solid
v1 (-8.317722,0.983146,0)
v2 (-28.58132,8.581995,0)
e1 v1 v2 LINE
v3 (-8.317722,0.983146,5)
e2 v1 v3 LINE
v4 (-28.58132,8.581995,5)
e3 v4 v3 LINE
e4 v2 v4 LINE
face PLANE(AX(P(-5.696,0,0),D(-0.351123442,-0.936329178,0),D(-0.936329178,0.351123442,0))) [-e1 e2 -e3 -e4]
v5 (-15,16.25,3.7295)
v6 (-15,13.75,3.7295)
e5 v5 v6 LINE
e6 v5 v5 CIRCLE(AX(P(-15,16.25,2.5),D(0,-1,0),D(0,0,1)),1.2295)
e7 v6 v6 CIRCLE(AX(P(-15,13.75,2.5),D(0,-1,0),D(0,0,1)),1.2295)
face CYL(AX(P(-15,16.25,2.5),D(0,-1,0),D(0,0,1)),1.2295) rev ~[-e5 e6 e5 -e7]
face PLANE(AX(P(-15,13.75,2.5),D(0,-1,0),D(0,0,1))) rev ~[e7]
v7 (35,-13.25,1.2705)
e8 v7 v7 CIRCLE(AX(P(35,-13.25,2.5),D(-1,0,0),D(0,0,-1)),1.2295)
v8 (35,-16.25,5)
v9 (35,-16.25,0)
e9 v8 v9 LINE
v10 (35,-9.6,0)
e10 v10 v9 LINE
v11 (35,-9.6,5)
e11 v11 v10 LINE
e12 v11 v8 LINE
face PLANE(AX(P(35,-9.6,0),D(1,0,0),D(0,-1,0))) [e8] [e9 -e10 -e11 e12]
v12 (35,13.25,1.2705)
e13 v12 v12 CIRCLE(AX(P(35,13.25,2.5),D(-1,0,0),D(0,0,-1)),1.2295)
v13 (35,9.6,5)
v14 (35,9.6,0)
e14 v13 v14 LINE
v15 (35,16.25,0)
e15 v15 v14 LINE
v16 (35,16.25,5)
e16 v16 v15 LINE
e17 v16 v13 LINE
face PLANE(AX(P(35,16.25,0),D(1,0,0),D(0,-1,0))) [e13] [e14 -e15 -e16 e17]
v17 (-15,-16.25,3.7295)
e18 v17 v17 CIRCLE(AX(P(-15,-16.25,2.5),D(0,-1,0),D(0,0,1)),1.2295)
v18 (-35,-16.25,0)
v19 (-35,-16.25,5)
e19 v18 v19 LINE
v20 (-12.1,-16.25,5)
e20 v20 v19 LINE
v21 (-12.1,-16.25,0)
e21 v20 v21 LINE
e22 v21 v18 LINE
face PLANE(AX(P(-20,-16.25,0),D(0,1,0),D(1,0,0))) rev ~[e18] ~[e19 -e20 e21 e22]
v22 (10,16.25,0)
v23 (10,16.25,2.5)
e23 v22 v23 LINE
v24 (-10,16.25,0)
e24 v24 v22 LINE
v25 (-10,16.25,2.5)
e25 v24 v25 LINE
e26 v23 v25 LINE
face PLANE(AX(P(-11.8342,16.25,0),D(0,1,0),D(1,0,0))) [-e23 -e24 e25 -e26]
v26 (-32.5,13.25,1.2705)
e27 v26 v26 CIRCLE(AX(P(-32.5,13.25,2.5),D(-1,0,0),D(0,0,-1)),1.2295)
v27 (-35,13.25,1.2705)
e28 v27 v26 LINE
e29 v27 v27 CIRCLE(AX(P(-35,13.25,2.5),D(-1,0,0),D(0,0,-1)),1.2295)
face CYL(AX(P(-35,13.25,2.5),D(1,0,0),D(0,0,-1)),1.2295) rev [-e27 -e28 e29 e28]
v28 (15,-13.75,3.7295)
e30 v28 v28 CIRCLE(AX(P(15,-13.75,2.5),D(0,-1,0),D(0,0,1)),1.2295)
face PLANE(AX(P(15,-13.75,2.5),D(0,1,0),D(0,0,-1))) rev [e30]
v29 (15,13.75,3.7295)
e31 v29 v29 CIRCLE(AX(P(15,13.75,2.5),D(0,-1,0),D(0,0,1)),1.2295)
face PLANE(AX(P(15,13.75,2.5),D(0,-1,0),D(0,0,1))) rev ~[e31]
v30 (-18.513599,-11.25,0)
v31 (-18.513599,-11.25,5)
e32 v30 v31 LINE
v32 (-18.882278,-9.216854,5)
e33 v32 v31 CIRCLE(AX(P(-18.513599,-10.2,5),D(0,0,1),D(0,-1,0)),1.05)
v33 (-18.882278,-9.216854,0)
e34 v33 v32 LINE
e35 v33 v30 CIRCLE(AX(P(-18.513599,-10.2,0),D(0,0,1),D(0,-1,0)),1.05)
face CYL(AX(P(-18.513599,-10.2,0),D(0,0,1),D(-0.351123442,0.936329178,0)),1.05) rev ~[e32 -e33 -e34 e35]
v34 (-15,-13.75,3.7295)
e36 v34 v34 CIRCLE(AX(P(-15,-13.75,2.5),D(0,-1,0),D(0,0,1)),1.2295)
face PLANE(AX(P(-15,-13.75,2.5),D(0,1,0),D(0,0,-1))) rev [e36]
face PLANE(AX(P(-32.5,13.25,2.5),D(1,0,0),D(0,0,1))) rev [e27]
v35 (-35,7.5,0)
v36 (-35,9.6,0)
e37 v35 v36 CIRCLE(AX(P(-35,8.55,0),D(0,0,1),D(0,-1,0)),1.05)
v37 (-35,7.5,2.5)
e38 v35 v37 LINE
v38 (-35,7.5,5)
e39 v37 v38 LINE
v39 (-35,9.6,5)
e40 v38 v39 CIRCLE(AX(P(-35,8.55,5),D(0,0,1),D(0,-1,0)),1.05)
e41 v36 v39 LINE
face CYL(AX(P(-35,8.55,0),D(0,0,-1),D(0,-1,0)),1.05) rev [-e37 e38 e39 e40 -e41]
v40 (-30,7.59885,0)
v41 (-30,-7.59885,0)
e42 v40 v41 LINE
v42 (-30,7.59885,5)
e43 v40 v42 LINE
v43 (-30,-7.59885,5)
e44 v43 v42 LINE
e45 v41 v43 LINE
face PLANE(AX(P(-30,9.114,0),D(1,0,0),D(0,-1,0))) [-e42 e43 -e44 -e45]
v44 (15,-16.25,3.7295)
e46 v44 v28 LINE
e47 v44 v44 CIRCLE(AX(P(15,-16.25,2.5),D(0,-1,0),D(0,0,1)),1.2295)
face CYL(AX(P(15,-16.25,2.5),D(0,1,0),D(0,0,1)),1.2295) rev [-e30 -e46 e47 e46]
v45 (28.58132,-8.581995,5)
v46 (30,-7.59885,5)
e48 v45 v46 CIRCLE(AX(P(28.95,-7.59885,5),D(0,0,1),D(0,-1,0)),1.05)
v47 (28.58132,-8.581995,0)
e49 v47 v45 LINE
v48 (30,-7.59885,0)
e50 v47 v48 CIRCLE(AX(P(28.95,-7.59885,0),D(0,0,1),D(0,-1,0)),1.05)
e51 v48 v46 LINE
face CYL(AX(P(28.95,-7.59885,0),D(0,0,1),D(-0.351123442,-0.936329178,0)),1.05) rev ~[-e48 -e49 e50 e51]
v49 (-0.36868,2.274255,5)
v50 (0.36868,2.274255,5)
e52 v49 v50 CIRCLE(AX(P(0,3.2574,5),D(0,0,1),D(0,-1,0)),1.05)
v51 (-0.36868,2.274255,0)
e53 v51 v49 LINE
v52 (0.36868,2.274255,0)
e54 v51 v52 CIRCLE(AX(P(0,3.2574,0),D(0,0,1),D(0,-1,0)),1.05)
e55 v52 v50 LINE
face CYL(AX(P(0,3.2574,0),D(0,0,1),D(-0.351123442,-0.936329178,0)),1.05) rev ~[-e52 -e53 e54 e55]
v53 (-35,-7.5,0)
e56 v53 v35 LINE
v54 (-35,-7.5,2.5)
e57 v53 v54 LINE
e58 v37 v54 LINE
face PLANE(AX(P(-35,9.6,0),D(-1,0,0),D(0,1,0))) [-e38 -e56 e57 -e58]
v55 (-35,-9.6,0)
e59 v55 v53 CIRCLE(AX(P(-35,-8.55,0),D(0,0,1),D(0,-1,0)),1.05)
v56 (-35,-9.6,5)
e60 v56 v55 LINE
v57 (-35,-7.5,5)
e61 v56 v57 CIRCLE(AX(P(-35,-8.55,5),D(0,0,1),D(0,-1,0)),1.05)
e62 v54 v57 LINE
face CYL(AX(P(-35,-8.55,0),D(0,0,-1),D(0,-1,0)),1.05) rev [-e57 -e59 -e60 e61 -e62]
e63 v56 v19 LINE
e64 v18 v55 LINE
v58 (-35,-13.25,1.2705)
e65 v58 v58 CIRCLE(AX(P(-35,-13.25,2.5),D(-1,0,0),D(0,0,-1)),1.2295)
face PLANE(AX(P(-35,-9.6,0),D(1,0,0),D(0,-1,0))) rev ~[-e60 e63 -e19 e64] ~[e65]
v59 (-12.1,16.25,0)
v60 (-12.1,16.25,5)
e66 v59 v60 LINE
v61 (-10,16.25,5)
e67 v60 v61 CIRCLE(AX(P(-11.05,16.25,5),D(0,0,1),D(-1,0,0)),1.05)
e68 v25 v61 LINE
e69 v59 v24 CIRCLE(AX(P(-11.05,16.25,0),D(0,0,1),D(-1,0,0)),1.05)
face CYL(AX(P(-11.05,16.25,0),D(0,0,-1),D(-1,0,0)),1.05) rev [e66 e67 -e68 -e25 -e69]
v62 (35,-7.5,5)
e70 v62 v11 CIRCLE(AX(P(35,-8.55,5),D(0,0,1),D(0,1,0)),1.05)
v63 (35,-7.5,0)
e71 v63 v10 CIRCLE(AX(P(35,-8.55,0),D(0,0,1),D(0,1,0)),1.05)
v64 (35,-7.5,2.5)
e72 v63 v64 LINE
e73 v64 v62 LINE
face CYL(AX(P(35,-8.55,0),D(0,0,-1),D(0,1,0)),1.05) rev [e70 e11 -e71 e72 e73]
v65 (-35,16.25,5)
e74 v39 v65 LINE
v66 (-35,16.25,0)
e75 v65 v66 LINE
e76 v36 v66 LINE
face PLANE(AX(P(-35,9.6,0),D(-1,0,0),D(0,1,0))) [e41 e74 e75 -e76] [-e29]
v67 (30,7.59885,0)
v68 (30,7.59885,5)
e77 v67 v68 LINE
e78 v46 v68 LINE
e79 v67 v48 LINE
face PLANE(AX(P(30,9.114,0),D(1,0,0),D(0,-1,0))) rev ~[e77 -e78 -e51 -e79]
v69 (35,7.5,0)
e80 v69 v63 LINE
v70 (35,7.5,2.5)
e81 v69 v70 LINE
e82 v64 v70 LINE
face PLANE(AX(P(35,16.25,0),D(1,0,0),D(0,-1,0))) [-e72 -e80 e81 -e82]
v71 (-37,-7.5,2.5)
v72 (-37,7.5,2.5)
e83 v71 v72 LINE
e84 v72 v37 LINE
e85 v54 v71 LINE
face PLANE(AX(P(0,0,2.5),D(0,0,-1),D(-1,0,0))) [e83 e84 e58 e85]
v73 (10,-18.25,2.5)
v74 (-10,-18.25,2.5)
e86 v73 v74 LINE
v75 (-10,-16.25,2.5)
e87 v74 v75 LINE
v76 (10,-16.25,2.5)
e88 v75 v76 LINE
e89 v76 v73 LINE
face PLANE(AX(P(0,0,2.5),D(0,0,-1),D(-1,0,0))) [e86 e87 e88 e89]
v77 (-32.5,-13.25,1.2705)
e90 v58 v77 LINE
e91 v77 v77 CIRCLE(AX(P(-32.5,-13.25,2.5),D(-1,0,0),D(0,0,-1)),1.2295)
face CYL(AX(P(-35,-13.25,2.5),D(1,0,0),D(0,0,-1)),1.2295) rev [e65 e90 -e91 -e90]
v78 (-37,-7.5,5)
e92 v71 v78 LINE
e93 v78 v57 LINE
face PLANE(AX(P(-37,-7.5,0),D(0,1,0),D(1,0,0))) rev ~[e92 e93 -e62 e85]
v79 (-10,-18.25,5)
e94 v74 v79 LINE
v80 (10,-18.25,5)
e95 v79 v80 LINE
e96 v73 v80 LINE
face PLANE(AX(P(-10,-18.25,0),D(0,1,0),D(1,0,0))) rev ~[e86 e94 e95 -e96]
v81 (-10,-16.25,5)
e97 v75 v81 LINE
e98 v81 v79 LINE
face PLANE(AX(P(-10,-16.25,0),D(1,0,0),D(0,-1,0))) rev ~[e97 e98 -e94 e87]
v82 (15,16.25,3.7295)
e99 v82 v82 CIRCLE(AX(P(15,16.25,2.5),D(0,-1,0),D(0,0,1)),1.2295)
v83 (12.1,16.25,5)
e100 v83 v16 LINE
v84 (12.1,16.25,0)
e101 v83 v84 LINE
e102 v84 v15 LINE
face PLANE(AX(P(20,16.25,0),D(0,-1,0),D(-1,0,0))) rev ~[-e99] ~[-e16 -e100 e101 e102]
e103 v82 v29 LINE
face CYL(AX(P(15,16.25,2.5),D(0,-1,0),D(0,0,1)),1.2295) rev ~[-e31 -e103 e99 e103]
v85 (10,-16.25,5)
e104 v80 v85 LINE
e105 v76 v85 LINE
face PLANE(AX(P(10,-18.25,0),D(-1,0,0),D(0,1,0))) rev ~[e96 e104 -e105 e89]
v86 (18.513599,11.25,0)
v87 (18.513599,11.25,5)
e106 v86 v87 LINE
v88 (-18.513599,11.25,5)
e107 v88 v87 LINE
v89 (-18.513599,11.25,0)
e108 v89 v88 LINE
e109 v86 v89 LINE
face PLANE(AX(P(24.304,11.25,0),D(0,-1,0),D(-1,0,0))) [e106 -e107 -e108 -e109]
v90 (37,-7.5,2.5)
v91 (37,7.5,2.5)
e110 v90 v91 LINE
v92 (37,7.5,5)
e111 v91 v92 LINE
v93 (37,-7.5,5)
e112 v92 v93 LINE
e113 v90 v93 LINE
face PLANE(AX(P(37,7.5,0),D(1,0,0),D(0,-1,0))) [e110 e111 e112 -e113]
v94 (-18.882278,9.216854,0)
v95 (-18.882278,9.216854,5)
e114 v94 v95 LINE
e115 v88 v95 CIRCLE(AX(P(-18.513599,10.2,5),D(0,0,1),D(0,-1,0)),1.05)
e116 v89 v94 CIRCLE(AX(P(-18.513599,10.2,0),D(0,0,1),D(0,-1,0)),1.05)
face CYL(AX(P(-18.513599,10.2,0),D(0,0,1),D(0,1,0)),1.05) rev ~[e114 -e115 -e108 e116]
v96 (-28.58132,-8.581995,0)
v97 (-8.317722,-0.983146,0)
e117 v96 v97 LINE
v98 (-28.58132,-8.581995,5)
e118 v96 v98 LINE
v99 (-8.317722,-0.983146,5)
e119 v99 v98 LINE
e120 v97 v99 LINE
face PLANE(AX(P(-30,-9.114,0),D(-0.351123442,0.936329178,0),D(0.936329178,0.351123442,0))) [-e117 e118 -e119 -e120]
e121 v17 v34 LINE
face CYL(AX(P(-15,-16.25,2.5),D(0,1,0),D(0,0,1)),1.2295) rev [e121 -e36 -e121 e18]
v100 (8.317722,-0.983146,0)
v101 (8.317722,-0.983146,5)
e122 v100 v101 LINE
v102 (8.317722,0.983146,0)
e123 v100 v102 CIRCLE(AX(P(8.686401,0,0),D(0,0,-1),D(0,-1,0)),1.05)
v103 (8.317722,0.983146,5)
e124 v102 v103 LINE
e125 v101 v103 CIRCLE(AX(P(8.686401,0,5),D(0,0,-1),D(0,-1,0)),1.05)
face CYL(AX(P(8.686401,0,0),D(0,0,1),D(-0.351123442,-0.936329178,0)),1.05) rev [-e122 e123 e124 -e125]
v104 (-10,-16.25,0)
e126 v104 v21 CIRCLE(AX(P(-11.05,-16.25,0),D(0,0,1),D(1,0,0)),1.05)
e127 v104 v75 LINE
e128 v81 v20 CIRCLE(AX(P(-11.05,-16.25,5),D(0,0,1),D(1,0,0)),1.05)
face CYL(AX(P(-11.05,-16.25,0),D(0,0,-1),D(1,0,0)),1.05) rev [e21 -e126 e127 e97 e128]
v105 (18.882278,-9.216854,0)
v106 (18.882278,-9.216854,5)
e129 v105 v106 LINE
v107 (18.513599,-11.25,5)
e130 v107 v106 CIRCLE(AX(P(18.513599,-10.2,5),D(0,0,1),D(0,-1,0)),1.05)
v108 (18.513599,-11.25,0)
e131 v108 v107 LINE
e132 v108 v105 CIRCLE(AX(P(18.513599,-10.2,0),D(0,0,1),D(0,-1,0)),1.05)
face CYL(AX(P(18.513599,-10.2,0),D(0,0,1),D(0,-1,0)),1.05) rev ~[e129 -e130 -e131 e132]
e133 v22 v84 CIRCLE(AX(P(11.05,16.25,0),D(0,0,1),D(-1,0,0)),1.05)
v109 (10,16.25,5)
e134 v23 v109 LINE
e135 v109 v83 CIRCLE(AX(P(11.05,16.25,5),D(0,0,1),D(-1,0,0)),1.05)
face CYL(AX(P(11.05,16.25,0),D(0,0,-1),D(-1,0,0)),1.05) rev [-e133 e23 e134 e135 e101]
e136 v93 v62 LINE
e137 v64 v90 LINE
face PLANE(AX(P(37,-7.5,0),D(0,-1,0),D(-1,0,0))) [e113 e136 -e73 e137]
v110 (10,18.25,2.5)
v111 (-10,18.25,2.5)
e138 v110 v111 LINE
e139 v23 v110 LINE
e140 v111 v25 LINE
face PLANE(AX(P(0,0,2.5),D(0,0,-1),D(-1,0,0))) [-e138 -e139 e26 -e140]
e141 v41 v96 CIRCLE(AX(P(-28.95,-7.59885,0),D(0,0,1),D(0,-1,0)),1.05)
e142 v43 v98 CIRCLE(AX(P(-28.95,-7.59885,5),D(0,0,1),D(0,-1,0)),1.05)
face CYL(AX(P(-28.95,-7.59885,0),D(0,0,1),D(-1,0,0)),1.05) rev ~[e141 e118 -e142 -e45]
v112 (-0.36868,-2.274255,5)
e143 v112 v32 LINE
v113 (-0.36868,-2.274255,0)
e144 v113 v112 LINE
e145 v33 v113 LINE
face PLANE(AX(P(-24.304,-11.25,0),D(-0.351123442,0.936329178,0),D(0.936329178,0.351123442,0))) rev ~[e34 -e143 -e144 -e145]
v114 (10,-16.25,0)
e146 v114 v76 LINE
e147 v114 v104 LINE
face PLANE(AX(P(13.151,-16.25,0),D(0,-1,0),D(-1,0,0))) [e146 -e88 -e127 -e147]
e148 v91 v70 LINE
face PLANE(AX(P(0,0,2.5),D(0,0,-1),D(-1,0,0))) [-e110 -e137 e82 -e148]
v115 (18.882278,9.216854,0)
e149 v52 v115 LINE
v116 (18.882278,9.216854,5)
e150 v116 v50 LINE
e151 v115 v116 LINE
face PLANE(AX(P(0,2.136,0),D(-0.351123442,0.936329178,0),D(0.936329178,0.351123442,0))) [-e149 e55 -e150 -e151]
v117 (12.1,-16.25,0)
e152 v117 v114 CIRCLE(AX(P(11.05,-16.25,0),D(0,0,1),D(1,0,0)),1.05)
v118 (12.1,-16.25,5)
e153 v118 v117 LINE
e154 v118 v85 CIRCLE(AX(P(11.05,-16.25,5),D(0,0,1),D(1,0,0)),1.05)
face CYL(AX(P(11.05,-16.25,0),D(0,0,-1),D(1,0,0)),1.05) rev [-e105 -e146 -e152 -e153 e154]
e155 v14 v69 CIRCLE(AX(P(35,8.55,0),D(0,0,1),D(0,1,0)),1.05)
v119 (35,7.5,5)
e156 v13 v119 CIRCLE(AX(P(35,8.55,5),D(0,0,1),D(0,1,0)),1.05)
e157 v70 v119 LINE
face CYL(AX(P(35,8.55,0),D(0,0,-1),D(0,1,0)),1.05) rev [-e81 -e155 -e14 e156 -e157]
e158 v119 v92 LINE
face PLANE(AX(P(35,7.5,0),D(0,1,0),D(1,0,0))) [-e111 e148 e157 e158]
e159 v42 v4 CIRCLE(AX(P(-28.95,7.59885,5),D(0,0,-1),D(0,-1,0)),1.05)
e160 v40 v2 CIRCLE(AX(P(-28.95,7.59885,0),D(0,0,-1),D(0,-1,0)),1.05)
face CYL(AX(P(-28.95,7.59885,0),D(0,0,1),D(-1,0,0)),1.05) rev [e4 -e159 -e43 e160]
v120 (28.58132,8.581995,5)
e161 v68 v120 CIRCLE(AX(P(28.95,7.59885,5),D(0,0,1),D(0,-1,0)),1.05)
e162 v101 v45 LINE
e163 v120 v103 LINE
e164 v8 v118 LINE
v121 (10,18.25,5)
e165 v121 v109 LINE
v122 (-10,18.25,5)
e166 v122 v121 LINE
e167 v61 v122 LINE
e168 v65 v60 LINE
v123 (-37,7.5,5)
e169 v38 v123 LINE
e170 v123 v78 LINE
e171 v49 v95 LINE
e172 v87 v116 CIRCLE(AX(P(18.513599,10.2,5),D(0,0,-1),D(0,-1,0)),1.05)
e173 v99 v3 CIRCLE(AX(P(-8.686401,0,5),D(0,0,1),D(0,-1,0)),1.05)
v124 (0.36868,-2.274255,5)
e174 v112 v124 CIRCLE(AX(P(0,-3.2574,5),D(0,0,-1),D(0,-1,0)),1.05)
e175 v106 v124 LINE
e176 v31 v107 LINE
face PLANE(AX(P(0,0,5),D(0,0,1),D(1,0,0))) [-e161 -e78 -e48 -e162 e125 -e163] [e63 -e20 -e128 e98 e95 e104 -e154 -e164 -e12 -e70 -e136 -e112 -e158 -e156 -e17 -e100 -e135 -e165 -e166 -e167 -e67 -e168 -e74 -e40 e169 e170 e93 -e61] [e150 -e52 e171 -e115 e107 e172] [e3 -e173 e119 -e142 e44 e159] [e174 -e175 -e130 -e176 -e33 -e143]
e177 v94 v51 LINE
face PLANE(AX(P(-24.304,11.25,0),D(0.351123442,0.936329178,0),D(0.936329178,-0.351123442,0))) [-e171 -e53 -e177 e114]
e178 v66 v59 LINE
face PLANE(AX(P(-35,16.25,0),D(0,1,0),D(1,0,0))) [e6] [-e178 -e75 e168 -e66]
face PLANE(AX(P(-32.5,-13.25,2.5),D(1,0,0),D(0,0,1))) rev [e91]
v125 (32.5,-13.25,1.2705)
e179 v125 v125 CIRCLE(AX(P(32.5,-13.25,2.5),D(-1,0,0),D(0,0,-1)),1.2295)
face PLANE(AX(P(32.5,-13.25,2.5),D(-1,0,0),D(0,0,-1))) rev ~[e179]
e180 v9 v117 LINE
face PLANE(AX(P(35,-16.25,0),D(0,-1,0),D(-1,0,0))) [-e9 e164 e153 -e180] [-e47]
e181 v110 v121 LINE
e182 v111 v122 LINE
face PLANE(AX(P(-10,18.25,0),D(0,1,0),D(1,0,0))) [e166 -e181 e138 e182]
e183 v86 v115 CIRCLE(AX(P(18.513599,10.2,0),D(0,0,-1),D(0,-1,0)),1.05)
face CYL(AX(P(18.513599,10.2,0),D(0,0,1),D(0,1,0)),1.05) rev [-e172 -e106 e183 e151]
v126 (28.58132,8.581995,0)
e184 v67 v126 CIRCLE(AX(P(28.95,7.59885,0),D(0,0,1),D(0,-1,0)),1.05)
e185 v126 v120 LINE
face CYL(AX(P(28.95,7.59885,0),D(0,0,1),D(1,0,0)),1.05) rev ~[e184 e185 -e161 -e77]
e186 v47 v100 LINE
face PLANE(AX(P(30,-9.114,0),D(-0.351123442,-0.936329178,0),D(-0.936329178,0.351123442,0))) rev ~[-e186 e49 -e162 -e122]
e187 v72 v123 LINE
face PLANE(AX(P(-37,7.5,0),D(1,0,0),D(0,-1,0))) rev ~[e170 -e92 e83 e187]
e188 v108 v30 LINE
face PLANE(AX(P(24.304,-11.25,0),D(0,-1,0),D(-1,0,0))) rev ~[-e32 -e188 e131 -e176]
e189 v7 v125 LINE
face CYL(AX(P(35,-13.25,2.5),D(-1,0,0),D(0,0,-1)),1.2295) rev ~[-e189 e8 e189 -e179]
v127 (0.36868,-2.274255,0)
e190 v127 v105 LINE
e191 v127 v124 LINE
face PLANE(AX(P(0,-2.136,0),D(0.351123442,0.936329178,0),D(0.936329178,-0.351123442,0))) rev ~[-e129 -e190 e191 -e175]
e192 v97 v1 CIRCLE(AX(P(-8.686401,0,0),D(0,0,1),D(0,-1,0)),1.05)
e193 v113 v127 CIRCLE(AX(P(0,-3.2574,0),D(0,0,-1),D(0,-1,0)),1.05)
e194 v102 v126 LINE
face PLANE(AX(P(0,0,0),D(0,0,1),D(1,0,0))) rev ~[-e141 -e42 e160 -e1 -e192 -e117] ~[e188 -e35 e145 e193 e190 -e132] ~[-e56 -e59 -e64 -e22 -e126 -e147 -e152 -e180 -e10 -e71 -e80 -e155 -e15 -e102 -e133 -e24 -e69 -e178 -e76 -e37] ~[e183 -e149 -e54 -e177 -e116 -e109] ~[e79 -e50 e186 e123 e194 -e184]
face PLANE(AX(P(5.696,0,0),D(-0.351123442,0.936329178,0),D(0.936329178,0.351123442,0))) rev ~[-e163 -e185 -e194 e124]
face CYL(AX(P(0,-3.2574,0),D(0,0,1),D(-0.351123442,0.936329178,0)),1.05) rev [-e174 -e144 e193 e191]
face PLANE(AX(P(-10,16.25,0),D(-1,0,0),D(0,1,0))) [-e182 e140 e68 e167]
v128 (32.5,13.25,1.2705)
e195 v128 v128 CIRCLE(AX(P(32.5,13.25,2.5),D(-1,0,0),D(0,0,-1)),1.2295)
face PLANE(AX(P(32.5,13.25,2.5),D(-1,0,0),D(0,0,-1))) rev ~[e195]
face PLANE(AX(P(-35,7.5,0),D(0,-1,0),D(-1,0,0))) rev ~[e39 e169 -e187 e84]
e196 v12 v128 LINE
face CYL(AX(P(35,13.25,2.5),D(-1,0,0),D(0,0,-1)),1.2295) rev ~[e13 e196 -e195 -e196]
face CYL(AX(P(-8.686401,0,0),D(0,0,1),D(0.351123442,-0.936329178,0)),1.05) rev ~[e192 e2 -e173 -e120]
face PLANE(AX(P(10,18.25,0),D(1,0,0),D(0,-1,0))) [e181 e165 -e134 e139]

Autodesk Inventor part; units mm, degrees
ref_plane "YZ Plane" through (0, 0, 0) normal (1, 0, 0) x (0, 1, 0)
ref_plane "XZ Plane" through (0, 0, 0) normal (0, 1, 0) x (-1, 0, 0)
ref_plane "XY Plane" through (0, 0, 0) normal (0, 0, 1) x (1, 0, 0)
sketch "スケッチ1" plane through (0, 0, 0) normal (0, 0, 1) x (1, 0, 0)
  line L0 (-35, 9.6) -> (-35, 16.25)
  line L1 (-35, 16.25) -> (-20, 16.25)
  line L2 (20, 16.25) -> (35, 16.25)
  line L3 (35, 16.25) -> (35, 9.6)
  line L4 (0, 0) -> (0, 16.25) construction
  line L5 (0, 0) -> (37, 0) construction
  line L6 (35, 7.5) -> (37, 7.5)
  line L7 (37, 7.5) -> (37, -7.5)
  line L8 (37, -7.5) -> (35, -7.5)
  line L9 (-20, -16.25) -> (20, -16.25) construction
  line L10 (20, -16.25) -> (20, 16.25) construction
  line L11 (20, 16.25) -> (-20, 16.25) construction
  line L12 (-20, 16.25) -> (-20, -16.25) construction
  line L13 (-20, -16.25) -> (20, 16.25) construction
  line L14 (20, -16.25) -> (-20, 16.25) construction
  line L15 (-35, -16.25) -> (35, -16.25) construction
  line L16 (35, -16.25) -> (35, 16.25) construction
  line L17 (35, 16.25) -> (-35, 16.25) construction
  line L18 (-35, 16.25) -> (-35, -16.25) construction
  line L19 (-35, -16.25) -> (35, 16.25) construction
  line L20 (35, -16.25) -> (-35, 16.25) construction
  arc A0 (35, 9.6) -> (35, 7.5) centre (35, 8.55) ccw
  arc A1 (35, -7.5) -> (35, -9.6) centre (35, -8.55) ccw
  line L21 (35, -9.6) -> (35, -16.25)
  line L22 (35, -16.25) -> (20, -16.25)
  line L23 (20, -16.25) -> (12.1, -16.25)
  line L24 (-20, 16.25) -> (-12.1, 16.25)
  line L25 (-10, 16.25) -> (-10, 18.25)
  line L26 (-10, 18.25) -> (10, 18.25)
  line L27 (10, 18.25) -> (10, 16.25)
  line L28 (20, 16.25) -> (12.1, 16.25)
  arc A2 (-12.1, 16.25) -> (-10, 16.25) centre (-11.05, 16.25) ccw
  arc A3 (10, 16.25) -> (12.1, 16.25) centre (11.05, 16.25) ccw
  line L29 (-35, 7.5) -> (-37, 7.5)
  line L30 (-37, 7.5) -> (-37, -7.5)
  line L31 (-37, -7.5) -> (-35, -7.5)
  arc A4 (-35, 7.5) -> (-35, 9.6) centre (-35, 8.55) ccw
  arc A5 (-35, -9.6) -> (-35, -7.5) centre (-35, -8.55) ccw
  line L32 (-35, -9.6) -> (-35, -16.25)
  line L33 (-35, -16.25) -> (-20, -16.25)
  line L34 (-20, -16.25) -> (-12.1, -16.25)
  line L35 (-10, -16.25) -> (-10, -18.25)
  line L36 (-10, -18.25) -> (10, -18.25)
  line L37 (10, -18.25) -> (10, -16.25)
  arc A6 (-10, -16.25) -> (-12.1, -16.25) centre (-11.05, -16.25) ccw
  arc A7 (12.1, -16.25) -> (10, -16.25) centre (11.05, -16.25) ccw
  line L38 (-16.55, 19.1799) -> (-13.45, 19.1799) construction
  line L39 (-13.45, 19.1799) -> (-13.45, 12.4242) construction
  line L40 (-13.45, 12.4242) -> (-16.55, 12.4242) construction
  line L41 (-16.55, 12.4242) -> (-16.55, 19.1799) construction
  line L42 (-15, 19.1799) -> (-15, 12.4242) construction
  point P0 (0, 18.25)
  point P1 (0, 0)
  dimension "d0" = 1.05
  dimension "d1" = 32.5
  dimension "d2" = 70
  dimension "d3" = 40
  dimension "d23" = 2
  dimension "d30" = 2
  dimension "d34" = 8.75
  dimension "d53" = 20
  dimension "d54" = 3.1
  dimension "d55" = 5
  dimension "d85" = 32.5
extrude "押し出し1" add sketch "スケッチ1" along normal blind 5
sketch "スケッチ2" plane through (0, 0, 0) normal (0, 0, -1) x (-1, 0, 0)
  line L0 (35, 9.6) -> (35, 16.25) projected
  line L1 (-35, 16.25) -> (-35, 9.6) projected
  line L2 (-43.1427, 17.3125) -> (-35, 17.3125)
  line L3 (-35, 17.3125) -> (-35, -16.751)
  line L4 (-35, -16.751) -> (-43.1427, -16.751)
  line L5 (-43.1427, -16.751) -> (-43.1427, 17.3125)
  line L6 (35, 21.1805) -> (40.858, 21.1805)
  line L7 (40.858, 21.1805) -> (40.858, -13.6193)
  line L8 (40.858, -13.6193) -> (35, -13.6193)
  line L9 (35, -13.6193) -> (35, 21.1805)
  line L10 (-20, -16.25) -> (-12.1, -16.25)
  line L11 (-17.1371, 25.1848) -> (11.8342, 25.1848)
  line L12 (11.8342, 25.1848) -> (11.8342, 16.25)
  line L13 (11.8342, 16.25) -> (-17.1371, 16.25)
  line L14 (-17.1371, 16.25) -> (-17.1371, 25.1848)
  line L15 (-13.151, -21.5857) -> (17.7795, -21.5857)
  line L16 (17.7795, -21.5857) -> (17.7795, -16.25)
  line L17 (17.7795, -16.25) -> (-13.151, -16.25)
  line L18 (-13.151, -16.25) -> (-13.151, -21.5857)
  line L19 (-12.1, 16.25) -> (-35, 16.25)
  line L20 (-35, -16.25) -> (-12.1, -16.25)
  point P0 (0, 0)
extrude "押し出し2" cut sketch "スケッチ2" against normal blind 2.5
sketch "スケッチ3" plane through (12.1, 16.25, 0) normal (0, 1, 0) x (1, 0, 0)
  line L0 (-2.1, 0) -> (-2.1, -5) projected
  line L1 (-2.1, -5) -> (-22.1, -5) construction
  line L2 (-12.1, -5) -> (-12.1, 7.4607) construction
  line L3 (22.9, 0) -> (22.9, -5) projected
  point P0 (-12.1, 0)
  point P1 (2.9, -2.5)
  point P2 (-27.1, -2.5)
  point P3 (22.9, -2.5)
  dimension "d60" = 5
hole "穴1" at (15, 16.25, 2.5) at (-15, 16.25, 2.5) direction (0, -1, 0) diameter 2.459 depth 2.5 thread size "M3x0.5" class "6H" standard "ISO Metric profile"
mirror "ミラー1" about plane through (0, 0, 0) normal (0, 1, 0) of "穴1"
sketch "スケッチ4" plane through (35, -16.25, 5) normal (1, 0, 0) x (0, 0, -1)
  line L0 (5, 16.25) -> (0, 16.25) construction
  line L1 (0, 23.75) -> (0, 8.75) construction
  line L2 (5, 6.65) -> (0, 6.65) projected
  line L3 (5, 0) -> (0, 0) projected
  point P0 (2.5, 3)
  point P1 (2.5, 29.5)
  point P2 (2.5, 6.65)
  dimension "d86" = 3
  dimension "d87" = 26.5
hole "穴2" at (35, -13.25, 2.5) at (35, 13.25, 2.5) direction (-1, 0, 0) diameter 2.459 depth 2.5 thread size "M3x0.5" class "6H" standard "ISO Metric profile"
mirror "ミラー2" about plane through (0, 0, 0) normal (1, 0, 0) of "穴2"
sketch "スケッチ5" plane through (0, 0, 0) normal (0, 0, -1) x (-1, 0, 0)
  line L0 (10, 16.25) -> (-10, 16.25) projected
  line L1 (-35, 7.5) -> (-35, 9.6) projected
  line L2 (-30, -11.25) -> (30, -11.25) construction
  line L3 (30, -11.25) -> (30, 11.25) construction
  line L4 (30, 11.25) -> (-30, 11.25) construction
  line L5 (-30, 11.25) -> (-30, -11.25) construction
  line L6 (-30, -11.25) -> (30, 11.25) construction
  line L7 (30, -11.25) -> (-30, 11.25) construction
  line L8 (-30, 9.114) -> (-30, -9.114)
  line L9 (-30, -9.114) -> (-5.696, 0)
  line L10 (-5.696, 0) -> (-30, 9.114)
  line L11 (-24.304, 11.25) -> (24.304, 11.25)
  line L12 (24.304, 11.25) -> (0, 2.136)
  line L13 (0, 2.136) -> (-24.304, 11.25)
  line L14 (-24.304, -11.25) -> (24.304, -11.25)
  line L15 (24.304, -11.25) -> (0, -2.136)
  line L16 (0, -2.136) -> (-24.304, -11.25)
  line L17 (30, 9.114) -> (30, -9.114)
  line L18 (30, -9.114) -> (5.696, 0)
  line L19 (5.696, 0) -> (30, 9.114)
  point P0 (-12.1, 16.25)
  point P1 (-20, 16.25)
  point P2 (-35, 16.25)
  point P3 (0, 0)
  dimension "d76" = 5
  dimension "d77" = 5
  dimension "d78" = 4
  dimension "d79" = 4
  dimension "d80" = 4
  dimension "d81" = 4
extrude "押し出し3" cut sketch "スケッチ5" against normal blind 10
fillet "フィレット1" radius 1.05 12 edges at (30, 9.114, 2.5) (30, -9.114, 2.5) (24.304, 11.25, 2.5) (5.696, 0, 2.5) (0, -2.136, 2.5) (0, 2.136, 2.5) (-30, -9.114, 2.5) (24.304, -11.25, 2.5) (-30, 9.114, 2.5) (-24.304, 11.25, 2.5) (-24.304, -11.25, 2.5) (-5.696, 0, 2.5)
equation "\"d85\" = d1"
equation "\"d60\" = d55"
equation "\"d77\" = d76"
equation "\"d79\" = d78"
equation "\"d80\" = d79"
equation "\"d81\" = d78"
equation "\"d52\" = 5"
properties part number "胴体_メインフレーム_1_13" material "アセタール樹脂、黒"
